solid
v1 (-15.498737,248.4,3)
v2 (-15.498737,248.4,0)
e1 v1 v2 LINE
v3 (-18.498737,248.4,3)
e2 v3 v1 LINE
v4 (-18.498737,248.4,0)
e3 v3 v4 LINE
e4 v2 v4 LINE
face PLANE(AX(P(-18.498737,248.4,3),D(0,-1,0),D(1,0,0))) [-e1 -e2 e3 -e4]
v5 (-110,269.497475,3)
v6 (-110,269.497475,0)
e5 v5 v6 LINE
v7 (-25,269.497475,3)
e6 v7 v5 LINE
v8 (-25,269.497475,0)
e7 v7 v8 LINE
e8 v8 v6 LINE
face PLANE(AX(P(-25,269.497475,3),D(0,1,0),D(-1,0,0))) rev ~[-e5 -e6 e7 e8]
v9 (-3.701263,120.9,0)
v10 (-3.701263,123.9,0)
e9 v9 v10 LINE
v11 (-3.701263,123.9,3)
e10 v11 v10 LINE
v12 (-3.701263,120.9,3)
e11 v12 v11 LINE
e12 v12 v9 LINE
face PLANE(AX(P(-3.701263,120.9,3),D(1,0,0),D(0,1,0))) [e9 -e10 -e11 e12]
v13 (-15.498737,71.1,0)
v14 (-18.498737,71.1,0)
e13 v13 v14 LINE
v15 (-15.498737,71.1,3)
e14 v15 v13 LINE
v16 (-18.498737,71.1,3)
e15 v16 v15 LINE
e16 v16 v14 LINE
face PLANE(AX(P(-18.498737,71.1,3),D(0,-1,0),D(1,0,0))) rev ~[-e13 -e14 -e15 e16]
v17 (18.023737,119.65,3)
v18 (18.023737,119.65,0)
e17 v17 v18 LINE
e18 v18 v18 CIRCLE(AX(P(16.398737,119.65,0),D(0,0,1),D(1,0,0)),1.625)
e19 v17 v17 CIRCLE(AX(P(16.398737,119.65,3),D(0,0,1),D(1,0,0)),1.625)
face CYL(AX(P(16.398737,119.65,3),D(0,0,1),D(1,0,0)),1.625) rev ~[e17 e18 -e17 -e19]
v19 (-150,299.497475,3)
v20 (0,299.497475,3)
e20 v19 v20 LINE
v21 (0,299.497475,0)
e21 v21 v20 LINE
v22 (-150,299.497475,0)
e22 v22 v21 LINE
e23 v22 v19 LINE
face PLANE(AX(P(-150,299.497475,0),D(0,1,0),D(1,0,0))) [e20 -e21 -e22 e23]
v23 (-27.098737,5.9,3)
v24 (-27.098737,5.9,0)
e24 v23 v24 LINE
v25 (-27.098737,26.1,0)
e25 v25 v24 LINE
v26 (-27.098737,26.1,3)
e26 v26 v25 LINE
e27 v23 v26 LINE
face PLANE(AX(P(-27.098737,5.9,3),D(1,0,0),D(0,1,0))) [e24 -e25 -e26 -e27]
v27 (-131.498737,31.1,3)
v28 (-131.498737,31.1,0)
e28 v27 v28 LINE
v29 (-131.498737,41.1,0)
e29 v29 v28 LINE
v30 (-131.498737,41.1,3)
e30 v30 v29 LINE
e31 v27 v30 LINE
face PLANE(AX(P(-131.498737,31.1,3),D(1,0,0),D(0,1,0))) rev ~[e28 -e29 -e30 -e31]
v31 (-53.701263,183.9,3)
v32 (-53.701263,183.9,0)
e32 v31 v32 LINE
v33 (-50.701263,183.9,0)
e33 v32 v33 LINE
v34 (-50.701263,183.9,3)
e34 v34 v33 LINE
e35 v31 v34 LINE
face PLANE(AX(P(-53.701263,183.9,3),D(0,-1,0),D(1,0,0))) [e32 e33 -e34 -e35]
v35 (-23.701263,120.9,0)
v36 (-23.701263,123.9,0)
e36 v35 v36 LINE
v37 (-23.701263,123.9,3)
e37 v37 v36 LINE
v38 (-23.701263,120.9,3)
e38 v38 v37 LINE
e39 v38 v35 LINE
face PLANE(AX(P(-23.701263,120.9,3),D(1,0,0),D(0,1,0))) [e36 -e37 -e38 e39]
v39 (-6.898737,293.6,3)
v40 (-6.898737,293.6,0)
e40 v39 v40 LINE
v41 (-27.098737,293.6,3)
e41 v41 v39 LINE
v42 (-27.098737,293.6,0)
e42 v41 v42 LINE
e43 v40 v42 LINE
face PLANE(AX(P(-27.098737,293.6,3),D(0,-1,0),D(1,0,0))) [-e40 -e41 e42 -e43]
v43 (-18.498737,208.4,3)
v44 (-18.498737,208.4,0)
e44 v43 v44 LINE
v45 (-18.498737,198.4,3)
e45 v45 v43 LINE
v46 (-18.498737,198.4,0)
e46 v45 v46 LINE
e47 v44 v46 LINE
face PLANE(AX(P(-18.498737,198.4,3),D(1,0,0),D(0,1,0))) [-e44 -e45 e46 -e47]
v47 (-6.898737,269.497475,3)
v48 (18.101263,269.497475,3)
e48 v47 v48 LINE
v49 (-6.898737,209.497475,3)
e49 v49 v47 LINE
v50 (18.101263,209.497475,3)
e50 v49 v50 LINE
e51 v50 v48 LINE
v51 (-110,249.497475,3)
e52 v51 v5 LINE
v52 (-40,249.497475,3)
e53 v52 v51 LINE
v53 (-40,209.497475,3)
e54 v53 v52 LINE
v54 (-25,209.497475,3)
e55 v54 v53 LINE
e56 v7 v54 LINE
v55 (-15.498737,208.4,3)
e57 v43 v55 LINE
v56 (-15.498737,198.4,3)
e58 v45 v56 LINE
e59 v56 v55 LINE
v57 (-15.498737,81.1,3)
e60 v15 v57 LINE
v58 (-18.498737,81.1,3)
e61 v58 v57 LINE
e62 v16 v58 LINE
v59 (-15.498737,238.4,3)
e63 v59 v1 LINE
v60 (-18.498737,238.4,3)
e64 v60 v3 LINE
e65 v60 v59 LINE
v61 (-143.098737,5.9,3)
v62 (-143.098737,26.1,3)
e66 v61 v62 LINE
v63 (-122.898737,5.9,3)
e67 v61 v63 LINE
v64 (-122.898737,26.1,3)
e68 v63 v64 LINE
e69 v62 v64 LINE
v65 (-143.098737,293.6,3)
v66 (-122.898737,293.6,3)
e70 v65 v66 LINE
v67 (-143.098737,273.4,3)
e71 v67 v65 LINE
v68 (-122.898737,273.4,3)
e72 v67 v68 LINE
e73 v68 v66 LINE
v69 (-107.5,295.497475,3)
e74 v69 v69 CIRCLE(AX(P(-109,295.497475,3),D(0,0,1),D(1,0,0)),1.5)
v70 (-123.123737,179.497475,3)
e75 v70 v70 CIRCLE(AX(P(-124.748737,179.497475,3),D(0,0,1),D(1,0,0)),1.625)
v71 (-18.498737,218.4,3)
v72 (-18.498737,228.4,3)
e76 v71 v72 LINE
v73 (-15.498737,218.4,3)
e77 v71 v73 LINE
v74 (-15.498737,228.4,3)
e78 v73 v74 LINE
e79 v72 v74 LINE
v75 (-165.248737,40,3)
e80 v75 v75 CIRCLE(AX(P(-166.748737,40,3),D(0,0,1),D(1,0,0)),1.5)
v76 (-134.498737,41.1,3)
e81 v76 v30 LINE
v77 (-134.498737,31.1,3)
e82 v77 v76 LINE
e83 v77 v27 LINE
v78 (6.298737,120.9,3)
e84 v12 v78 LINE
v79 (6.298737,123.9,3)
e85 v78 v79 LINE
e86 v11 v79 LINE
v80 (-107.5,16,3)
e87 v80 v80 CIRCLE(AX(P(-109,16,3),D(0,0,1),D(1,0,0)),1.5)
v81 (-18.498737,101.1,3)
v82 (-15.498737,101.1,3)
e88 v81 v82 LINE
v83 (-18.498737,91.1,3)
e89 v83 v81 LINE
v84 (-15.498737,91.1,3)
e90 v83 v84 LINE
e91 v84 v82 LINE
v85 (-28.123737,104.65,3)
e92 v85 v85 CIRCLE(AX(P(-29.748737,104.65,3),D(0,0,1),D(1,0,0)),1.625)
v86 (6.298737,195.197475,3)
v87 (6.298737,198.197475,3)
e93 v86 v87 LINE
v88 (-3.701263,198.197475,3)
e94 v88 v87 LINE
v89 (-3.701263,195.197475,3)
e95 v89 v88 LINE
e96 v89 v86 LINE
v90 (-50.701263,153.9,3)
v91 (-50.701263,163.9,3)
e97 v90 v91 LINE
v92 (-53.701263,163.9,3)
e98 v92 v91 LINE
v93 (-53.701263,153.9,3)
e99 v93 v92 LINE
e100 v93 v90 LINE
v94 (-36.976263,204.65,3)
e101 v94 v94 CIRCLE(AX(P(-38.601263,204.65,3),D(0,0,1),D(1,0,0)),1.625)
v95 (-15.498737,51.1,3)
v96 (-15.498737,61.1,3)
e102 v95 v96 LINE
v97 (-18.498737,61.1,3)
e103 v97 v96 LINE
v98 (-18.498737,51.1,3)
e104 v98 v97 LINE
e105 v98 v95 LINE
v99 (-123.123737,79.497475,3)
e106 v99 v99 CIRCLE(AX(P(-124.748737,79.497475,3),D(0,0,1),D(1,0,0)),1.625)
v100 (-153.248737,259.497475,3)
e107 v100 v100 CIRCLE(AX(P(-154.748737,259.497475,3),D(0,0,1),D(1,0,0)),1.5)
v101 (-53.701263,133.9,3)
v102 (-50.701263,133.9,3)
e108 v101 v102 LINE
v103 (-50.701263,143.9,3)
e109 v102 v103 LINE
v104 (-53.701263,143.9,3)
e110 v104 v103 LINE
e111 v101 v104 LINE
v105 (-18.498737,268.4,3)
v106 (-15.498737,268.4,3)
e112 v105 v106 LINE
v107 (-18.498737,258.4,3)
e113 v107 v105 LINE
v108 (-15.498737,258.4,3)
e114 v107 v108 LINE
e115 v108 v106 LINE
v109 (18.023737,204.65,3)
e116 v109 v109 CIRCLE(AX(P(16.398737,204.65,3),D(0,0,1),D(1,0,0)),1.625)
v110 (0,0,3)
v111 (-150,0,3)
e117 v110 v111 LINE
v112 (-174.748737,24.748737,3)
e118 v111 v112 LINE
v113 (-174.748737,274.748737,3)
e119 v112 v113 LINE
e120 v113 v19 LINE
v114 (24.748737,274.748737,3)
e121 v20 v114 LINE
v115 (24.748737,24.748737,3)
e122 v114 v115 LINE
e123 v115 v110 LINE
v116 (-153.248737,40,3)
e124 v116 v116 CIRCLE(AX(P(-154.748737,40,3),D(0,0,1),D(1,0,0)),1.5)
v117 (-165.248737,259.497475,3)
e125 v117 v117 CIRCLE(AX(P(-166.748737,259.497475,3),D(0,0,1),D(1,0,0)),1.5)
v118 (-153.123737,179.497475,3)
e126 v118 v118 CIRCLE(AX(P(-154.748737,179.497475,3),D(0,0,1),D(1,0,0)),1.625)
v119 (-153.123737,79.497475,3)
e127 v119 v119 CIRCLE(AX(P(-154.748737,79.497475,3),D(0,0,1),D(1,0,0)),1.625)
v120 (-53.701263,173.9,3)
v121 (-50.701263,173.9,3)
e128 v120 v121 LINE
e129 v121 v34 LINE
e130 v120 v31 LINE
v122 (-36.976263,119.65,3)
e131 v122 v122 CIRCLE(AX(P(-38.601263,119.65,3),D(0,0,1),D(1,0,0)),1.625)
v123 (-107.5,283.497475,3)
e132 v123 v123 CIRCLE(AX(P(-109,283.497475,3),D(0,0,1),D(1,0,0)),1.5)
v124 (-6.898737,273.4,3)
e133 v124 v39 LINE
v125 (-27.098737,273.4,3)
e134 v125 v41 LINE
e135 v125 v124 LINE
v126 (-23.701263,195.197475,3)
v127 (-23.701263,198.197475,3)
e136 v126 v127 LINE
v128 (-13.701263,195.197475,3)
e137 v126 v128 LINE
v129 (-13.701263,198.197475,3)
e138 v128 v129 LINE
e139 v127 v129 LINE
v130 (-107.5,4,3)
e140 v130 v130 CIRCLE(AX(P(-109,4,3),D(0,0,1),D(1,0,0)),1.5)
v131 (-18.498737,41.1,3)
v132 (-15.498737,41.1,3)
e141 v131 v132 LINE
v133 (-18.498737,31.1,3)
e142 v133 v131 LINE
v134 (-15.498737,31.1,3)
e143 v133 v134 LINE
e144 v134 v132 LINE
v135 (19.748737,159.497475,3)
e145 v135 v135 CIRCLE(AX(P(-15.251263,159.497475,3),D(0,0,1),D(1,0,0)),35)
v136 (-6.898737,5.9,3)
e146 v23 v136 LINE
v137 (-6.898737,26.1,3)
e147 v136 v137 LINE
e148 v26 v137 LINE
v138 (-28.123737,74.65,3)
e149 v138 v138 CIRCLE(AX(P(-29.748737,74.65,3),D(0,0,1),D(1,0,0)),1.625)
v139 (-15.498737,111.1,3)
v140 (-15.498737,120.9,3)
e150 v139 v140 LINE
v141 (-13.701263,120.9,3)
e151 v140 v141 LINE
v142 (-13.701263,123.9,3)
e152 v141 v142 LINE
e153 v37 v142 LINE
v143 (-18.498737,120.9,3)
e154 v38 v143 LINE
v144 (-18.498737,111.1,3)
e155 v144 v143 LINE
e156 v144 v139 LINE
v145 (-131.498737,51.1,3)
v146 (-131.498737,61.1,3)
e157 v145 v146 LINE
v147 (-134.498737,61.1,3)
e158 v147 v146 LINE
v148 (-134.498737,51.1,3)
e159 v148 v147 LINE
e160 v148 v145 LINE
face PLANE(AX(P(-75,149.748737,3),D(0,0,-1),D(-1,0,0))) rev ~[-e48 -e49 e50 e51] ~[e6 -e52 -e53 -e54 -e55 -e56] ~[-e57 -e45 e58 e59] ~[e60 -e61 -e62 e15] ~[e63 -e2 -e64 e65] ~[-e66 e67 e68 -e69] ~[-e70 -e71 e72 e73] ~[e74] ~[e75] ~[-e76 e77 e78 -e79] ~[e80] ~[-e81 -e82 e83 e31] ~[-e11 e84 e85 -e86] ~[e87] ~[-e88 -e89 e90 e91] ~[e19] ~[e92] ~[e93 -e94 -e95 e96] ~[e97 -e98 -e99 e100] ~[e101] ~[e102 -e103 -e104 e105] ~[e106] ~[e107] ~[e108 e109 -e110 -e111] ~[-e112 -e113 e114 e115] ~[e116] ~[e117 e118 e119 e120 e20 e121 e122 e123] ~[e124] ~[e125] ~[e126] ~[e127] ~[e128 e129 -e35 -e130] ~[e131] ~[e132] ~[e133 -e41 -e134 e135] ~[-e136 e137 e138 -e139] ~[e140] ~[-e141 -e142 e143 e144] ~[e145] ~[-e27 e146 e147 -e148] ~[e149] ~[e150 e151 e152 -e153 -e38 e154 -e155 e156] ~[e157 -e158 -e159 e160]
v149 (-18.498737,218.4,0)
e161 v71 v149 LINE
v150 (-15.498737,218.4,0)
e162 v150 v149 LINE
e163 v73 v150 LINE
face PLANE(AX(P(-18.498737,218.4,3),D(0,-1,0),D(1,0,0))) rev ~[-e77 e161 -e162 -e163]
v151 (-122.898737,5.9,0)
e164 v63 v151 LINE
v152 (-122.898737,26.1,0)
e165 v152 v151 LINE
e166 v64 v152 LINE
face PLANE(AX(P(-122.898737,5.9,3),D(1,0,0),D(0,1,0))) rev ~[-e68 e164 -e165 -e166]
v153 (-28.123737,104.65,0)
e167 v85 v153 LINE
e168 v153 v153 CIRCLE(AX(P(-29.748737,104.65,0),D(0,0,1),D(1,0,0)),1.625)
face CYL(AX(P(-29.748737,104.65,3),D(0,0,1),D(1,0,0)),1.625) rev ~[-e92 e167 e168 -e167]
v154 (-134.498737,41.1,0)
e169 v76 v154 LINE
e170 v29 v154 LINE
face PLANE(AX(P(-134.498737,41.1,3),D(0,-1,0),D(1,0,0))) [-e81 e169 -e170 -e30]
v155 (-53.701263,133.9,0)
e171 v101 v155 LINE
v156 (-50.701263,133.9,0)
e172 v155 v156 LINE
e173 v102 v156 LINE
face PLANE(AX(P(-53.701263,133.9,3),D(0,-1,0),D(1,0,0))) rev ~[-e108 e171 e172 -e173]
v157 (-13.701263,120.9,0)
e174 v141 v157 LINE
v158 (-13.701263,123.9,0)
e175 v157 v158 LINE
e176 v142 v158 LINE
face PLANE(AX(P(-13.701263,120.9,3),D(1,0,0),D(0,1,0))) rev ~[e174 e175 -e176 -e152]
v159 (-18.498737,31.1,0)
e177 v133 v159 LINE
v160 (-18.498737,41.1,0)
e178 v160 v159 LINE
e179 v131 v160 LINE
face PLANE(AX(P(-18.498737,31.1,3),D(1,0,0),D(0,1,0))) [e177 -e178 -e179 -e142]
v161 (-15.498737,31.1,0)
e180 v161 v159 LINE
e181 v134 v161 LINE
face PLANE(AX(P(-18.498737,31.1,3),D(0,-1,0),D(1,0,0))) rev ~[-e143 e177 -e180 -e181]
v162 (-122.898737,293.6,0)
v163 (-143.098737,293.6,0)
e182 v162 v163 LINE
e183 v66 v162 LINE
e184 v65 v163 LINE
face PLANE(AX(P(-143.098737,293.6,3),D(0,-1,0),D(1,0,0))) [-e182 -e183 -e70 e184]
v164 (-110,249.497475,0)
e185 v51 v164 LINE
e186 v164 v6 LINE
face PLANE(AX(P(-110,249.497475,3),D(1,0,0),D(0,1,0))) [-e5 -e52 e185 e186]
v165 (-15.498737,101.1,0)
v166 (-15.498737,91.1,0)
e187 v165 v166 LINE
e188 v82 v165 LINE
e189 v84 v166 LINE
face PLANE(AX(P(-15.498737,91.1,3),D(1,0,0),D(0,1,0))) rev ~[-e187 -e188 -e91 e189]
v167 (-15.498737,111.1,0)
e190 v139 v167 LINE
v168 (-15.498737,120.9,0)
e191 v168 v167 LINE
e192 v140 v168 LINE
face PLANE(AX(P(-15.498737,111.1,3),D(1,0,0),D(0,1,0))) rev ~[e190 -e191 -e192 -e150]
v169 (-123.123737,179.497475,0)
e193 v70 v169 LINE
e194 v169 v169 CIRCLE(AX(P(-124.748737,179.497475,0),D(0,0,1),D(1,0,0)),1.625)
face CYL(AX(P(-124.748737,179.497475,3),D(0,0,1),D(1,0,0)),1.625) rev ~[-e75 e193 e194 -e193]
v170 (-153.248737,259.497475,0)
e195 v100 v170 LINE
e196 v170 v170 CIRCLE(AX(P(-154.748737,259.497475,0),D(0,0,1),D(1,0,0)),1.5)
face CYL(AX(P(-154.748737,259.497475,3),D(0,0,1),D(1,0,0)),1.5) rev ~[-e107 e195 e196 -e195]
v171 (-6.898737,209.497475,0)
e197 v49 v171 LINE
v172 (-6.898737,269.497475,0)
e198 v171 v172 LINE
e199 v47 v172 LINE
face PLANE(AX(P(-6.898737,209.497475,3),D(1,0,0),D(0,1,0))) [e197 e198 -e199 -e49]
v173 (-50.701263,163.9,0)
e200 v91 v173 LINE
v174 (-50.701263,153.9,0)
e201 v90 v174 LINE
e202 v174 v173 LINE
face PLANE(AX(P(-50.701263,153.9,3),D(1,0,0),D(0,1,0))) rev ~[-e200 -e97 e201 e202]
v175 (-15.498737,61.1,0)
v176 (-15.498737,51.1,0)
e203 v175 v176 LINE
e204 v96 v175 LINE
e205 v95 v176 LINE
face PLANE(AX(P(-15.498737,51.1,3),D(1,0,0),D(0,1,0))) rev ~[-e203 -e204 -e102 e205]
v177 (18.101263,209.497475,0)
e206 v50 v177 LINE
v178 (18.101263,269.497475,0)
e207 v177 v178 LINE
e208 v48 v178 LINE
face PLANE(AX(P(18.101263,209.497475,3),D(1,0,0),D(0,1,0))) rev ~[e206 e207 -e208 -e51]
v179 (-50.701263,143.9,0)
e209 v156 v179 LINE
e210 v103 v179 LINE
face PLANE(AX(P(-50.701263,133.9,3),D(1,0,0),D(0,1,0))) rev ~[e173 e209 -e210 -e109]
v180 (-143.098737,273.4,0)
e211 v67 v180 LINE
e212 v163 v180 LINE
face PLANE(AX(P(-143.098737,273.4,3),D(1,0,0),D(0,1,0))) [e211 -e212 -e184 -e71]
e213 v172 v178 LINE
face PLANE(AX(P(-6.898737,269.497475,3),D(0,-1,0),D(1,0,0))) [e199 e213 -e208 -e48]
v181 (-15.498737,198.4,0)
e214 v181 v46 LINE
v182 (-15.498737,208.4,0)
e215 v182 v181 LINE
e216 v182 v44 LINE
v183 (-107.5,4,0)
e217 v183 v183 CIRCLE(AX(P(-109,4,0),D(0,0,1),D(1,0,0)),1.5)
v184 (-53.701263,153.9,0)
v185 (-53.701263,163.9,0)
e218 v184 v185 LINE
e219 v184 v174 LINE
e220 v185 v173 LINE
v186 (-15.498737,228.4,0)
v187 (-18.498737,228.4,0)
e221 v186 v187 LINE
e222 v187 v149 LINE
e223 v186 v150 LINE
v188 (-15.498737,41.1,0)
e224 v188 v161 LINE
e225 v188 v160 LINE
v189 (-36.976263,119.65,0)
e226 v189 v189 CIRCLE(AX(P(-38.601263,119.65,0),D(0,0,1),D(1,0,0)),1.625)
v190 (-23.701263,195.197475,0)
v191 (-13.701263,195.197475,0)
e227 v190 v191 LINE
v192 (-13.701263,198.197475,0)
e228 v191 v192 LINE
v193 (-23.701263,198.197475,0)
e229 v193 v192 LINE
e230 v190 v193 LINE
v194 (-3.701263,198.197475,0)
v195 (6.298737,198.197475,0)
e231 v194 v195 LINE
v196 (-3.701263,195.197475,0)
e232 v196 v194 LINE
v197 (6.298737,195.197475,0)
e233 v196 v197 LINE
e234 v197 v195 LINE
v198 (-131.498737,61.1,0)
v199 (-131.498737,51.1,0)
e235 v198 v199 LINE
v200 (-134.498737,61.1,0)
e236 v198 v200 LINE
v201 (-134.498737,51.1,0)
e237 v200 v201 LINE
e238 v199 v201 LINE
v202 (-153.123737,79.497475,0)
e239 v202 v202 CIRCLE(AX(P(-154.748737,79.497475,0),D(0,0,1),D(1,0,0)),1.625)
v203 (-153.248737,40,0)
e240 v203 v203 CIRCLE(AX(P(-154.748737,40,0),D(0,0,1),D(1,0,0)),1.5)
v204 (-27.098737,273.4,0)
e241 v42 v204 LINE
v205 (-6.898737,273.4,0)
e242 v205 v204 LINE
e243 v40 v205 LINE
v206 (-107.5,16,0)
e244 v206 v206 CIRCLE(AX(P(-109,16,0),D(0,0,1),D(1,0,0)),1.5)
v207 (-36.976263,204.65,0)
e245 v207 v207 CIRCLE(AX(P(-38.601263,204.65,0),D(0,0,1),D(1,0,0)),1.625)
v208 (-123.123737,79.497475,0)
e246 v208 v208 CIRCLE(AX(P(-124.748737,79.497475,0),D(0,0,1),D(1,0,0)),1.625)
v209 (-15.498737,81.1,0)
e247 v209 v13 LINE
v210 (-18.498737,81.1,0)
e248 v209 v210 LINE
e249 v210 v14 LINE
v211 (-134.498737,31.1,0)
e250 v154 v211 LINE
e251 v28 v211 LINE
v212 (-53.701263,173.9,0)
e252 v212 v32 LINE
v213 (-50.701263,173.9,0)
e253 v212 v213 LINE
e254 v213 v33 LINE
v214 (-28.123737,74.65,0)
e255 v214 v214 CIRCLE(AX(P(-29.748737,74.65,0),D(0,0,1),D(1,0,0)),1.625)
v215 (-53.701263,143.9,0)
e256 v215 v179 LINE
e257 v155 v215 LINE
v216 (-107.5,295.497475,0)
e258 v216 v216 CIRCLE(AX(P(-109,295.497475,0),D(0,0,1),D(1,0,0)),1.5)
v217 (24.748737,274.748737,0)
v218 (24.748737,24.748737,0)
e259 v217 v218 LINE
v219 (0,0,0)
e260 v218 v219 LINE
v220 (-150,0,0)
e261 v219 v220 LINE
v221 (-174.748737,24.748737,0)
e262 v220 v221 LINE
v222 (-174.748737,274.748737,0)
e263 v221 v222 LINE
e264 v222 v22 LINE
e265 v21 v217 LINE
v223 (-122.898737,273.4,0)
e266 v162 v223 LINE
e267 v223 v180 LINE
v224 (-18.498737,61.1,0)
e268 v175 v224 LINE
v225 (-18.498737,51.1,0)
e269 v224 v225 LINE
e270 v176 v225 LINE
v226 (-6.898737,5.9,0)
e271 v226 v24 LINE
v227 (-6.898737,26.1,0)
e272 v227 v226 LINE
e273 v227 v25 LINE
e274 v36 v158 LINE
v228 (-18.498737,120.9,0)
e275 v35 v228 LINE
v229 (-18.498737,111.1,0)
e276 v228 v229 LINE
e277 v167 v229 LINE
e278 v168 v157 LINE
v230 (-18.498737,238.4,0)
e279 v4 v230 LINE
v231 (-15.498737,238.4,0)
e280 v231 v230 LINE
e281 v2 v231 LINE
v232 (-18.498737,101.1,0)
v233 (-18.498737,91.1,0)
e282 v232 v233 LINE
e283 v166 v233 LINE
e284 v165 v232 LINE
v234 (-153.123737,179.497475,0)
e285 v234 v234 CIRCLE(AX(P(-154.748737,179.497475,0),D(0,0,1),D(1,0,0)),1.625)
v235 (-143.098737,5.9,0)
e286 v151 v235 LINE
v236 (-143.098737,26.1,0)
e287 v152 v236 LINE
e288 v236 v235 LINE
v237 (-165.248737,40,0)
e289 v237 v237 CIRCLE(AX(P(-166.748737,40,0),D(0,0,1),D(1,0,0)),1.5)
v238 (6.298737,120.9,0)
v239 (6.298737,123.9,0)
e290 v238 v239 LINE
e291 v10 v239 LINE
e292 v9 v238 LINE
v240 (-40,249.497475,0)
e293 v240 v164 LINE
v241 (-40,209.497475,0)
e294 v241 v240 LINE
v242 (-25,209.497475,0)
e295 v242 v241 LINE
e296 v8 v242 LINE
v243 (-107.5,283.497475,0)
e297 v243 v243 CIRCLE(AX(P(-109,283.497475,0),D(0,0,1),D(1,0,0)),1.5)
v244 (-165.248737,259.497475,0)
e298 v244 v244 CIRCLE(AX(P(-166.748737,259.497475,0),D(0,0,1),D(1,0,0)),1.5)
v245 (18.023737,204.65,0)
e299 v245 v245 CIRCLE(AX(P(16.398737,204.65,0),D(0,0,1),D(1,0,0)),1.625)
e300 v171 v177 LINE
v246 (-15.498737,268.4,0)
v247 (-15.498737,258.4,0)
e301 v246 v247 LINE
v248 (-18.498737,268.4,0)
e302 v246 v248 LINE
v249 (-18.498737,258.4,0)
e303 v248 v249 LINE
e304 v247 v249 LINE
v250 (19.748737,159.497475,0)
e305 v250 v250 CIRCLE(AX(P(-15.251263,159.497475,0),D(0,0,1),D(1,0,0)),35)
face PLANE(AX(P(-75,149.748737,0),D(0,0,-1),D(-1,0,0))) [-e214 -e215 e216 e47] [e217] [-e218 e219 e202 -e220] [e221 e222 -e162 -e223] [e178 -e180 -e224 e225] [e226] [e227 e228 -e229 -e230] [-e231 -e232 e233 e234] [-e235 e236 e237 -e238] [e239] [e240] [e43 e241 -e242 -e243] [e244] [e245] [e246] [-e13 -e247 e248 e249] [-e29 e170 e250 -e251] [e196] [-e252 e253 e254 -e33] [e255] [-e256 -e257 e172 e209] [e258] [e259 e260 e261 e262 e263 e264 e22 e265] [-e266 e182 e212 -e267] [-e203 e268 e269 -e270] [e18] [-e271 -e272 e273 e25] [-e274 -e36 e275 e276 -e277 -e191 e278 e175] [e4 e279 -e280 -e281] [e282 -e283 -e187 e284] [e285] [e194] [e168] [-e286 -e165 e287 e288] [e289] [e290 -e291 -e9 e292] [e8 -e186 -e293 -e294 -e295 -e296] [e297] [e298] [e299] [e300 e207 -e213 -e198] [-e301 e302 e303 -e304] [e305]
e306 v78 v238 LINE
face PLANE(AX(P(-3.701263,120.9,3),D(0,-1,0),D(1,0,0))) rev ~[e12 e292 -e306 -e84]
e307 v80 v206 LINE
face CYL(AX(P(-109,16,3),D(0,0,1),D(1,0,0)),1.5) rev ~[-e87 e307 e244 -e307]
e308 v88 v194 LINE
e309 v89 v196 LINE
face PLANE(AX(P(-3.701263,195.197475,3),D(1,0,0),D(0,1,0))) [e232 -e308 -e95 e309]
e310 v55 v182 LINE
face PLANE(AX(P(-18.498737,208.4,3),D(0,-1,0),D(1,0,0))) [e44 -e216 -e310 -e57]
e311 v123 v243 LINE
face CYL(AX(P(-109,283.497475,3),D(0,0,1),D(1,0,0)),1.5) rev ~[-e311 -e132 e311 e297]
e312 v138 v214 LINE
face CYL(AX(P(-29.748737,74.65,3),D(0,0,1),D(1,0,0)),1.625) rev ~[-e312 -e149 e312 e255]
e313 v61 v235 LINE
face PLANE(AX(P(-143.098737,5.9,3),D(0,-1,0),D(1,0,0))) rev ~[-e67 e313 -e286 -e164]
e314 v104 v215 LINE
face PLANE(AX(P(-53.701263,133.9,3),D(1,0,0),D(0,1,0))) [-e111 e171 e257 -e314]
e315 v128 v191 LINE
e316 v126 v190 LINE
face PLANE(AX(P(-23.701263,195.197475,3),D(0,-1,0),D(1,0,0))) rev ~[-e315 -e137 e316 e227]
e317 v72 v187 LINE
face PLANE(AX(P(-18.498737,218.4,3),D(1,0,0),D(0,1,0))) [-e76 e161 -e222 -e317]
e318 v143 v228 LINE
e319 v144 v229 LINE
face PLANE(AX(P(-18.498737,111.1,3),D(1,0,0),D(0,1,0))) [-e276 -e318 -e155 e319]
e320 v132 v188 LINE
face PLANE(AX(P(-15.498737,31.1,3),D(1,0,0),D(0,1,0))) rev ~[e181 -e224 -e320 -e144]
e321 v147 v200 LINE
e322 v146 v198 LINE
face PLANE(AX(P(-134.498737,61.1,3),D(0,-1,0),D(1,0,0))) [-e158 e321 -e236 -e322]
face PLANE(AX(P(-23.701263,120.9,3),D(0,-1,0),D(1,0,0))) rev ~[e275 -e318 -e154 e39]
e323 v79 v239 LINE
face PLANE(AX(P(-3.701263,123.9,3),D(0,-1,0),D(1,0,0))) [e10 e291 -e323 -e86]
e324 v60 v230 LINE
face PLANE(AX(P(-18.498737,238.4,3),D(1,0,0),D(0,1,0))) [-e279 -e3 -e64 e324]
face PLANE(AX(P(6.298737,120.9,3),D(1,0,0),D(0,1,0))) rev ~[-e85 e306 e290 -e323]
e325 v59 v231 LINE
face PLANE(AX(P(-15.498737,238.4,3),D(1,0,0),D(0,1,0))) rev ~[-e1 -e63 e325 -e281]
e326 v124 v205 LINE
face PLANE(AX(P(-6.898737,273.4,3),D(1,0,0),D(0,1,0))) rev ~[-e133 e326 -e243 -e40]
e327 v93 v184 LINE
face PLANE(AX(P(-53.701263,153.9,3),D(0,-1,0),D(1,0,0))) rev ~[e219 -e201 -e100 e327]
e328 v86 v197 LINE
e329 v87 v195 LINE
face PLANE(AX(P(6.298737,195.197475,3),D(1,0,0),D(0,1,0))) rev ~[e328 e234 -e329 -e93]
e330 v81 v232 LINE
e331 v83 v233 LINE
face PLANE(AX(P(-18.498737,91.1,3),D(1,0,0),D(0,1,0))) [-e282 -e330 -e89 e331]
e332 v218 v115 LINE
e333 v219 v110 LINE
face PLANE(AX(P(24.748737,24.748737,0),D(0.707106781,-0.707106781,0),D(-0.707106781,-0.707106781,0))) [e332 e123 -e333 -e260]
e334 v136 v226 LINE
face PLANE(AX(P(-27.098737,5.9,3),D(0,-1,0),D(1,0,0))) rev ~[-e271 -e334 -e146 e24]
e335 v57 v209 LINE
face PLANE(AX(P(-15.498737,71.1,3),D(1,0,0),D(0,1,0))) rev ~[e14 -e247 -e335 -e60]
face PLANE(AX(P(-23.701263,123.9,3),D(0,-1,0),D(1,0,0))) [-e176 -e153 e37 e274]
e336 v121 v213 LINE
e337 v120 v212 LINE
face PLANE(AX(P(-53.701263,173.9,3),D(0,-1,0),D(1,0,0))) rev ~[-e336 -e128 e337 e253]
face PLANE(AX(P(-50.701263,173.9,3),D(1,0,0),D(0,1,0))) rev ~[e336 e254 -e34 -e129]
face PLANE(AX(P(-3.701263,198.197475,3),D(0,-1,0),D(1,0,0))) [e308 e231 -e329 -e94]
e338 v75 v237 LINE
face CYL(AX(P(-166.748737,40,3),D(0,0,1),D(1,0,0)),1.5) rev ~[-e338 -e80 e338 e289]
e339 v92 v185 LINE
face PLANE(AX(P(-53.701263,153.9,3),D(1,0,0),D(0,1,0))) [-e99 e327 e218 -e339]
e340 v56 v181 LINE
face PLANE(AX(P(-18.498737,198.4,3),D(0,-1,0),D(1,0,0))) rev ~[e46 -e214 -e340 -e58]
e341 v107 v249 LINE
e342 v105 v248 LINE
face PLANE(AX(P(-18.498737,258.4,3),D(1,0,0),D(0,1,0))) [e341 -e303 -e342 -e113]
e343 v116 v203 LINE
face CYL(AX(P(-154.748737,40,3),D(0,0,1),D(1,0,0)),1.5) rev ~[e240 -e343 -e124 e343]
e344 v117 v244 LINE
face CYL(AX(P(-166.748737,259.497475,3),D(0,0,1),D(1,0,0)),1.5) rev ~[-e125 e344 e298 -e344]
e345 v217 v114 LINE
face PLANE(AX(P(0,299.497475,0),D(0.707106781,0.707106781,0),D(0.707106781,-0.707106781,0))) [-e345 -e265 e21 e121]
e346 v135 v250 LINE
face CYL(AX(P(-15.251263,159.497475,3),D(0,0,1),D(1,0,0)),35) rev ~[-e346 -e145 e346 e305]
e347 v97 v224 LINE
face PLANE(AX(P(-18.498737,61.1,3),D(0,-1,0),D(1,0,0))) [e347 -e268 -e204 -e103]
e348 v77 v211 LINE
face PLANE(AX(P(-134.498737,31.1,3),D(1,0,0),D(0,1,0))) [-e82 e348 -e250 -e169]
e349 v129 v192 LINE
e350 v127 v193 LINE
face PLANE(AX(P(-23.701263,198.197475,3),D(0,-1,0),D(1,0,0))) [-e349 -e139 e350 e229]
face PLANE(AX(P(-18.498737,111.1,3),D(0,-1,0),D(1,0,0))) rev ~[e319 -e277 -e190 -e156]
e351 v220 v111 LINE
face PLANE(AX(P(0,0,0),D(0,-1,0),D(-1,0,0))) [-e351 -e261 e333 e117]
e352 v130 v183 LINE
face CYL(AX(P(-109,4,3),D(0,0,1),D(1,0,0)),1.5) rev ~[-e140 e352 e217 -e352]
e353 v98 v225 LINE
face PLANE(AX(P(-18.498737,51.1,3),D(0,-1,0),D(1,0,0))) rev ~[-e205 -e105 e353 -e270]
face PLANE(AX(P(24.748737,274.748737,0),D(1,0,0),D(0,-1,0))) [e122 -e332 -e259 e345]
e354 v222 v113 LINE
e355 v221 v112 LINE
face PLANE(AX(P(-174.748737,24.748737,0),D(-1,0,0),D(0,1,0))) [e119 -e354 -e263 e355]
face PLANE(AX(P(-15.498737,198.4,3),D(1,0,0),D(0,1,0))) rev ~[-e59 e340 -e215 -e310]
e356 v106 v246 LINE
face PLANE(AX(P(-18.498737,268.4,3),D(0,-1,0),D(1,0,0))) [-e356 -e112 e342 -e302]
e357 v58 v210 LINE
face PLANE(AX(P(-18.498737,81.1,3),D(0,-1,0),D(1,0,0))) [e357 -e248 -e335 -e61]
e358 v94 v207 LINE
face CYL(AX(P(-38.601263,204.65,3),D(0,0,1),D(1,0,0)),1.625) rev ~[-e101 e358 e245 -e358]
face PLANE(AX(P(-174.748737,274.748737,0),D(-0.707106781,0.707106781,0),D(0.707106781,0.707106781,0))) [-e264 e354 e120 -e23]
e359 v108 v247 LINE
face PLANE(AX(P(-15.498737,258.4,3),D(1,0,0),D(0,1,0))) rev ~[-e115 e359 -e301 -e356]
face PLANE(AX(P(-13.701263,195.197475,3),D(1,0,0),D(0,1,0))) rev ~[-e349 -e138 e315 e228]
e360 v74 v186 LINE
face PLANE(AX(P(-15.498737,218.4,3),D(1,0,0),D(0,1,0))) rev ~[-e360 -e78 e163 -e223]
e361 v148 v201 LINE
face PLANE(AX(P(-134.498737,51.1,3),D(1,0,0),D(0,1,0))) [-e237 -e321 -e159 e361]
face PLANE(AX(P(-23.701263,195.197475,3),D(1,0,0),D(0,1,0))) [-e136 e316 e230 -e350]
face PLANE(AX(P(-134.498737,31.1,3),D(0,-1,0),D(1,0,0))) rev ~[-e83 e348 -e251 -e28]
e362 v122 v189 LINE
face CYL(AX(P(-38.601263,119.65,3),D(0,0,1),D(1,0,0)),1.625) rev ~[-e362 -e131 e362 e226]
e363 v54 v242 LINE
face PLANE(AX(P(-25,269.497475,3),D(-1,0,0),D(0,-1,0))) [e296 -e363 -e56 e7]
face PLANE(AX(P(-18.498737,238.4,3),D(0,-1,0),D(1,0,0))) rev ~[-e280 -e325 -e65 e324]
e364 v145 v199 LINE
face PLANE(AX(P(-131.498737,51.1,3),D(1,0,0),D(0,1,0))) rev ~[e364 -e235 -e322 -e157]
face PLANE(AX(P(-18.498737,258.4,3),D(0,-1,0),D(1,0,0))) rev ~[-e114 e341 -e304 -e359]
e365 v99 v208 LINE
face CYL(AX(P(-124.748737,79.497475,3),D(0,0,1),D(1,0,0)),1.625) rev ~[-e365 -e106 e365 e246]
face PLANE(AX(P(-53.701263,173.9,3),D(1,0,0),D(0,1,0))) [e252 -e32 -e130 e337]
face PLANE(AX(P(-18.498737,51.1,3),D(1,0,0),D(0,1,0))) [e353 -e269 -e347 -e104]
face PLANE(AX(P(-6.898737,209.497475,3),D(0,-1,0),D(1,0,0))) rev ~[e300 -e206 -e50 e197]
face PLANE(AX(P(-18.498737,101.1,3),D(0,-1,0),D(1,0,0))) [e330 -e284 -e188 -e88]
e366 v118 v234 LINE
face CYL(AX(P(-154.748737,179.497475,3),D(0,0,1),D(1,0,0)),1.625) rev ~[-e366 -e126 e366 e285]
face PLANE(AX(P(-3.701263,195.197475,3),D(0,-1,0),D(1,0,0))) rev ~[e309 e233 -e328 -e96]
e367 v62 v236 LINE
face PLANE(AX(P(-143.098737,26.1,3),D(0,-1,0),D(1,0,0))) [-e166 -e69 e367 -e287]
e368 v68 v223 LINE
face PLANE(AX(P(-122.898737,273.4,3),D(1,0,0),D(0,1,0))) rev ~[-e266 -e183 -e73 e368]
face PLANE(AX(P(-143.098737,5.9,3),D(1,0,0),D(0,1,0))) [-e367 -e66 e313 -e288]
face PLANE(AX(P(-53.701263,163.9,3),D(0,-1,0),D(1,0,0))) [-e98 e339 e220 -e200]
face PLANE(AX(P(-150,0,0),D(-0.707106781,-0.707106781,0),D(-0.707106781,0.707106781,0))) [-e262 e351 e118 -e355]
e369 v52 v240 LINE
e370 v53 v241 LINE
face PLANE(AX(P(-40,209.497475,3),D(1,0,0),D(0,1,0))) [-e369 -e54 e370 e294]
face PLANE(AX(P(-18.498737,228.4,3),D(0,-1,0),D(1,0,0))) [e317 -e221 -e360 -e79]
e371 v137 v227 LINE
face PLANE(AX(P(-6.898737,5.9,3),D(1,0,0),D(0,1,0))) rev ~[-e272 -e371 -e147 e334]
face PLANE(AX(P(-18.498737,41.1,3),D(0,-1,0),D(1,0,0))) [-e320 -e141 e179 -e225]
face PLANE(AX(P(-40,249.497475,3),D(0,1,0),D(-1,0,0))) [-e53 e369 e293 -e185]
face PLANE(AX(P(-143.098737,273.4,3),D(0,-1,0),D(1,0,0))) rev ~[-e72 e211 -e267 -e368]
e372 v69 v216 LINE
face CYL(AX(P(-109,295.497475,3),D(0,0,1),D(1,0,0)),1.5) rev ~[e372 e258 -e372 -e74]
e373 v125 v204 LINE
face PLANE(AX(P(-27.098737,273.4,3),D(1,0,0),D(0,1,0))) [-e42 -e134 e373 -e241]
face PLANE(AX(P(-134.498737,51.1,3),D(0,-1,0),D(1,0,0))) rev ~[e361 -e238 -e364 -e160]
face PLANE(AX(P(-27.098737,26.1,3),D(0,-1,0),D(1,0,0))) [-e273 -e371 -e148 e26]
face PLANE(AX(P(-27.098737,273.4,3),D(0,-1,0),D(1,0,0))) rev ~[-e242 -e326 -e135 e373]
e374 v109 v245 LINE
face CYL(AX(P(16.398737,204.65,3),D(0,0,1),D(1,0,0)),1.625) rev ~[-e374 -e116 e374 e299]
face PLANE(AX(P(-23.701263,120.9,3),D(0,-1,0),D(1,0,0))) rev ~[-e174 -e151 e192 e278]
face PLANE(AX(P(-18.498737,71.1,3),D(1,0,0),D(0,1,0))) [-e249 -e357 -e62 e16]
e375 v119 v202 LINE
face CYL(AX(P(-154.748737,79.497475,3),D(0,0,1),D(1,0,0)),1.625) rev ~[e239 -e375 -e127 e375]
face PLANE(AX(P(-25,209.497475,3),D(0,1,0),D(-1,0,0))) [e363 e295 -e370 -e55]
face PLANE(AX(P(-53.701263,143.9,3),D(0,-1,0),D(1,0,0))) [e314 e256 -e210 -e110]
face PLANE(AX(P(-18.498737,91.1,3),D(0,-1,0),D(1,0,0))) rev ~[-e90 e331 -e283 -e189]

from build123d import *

# Parameters (mm, degrees)
BASE_DEPTH                      = 3
ESQUISSE3_W                     = 20.2
ESQUISSE3_H                     = 20.2
ENL_V_MAT_EXTRU_1_DEPTH         = 4
R_P_TITION_LIN_AIRE1_COUNT      = 2
R_P_TITION_LIN_AIRE1_PITCH      = 267.5
R_P_TITION_LIN_AIRE1_COUNT_DIR2 = 2
R_P_TITION_LIN_AIRE1_PITCH_DIR2 = 116
ESQUISSE4_R                     = 35
ENL_V_MAT_EXTRU_2_DEPTH         = 4
ESQUISSE5_R                     = 1.625
ENL_V_MAT_EXTRU_3_DEPTH         = 3
R_P_TITION_LIN_AIRE2_COUNT      = 2
R_P_TITION_LIN_AIRE2_PITCH      = 85
R_P_TITION_LIN_AIRE2_COUNT_DIR2 = 2
R_P_TITION_LIN_AIRE2_PITCH_DIR2 = 55
ENL_V_MAT_EXTRU_4_REACH         = 5
ESQUISSE6_W                     = 25
ESQUISSE6_H                     = 60
ESQUISSE8_R                     = 1.5
TROUS_DEGUISEMENT_DEPTH         = 5
SKETCH1_W                       = 3
SKETCH1_H                       = 10
CUT_EXTRUDE1_DEPTH              = 4
LPATTERN1_COUNT                 = 5
LPATTERN1_PITCH                 = 20
SKETCH2_W                       = 3
SKETCH2_H                       = 10
CUT_EXTRUDE2_DEPTH              = 4
LPATTERN2_COUNT                 = 2
LPATTERN2_PITCH                 = 20
SKETCH3_W                       = 3
SKETCH3_H                       = 10
CUT_EXTRUDE3_DEPTH              = 4
LPATTERN3_COUNT                 = 4
LPATTERN3_PITCH                 = 20
ESQUISSE9_R                     = 1.625
ENL_V_MAT_EXTRU_5_DEPTH         = 10
ESQUISSE10_W                    = 10
ESQUISSE10_H                    = 3
ENL_V_MAT_EXTRU_6_DEPTH         = 3
ESQUISSE11_W                    = 3
ESQUISSE11_H                    = 10
ENL_V_MAT_EXTRU_7_DEPTH         = 3


with BuildPart() as part:
    # Esquisse1 → Base (new body)
    with BuildSketch(Plane.XY):
        Polygon((24.748737342, 24.748737342), (0, 0), (-150, 0), (-174.748737342, 24.748737342), (-174.748737342, 274.748737342), (-150, 299.497474683), (0, 299.497474683), (24.748737342, 274.748737342), align=None)
    extrude(amount=BASE_DEPTH)

    # Esquisse3 → Enlèv. mat.-Extru.1 (cut, through all)
    with BuildSketch(Plane.XY.offset(3)):
        with Locations((-132.998737342, 16)):
            Rectangle(ESQUISSE3_W, ESQUISSE3_H)
    enl_v_mat_extru_1 = extrude(amount=-ENL_V_MAT_EXTRU_1_DEPTH, mode=Mode.SUBTRACT)

    # Répétition linéaire1: Enl_v. mat.-Extru.1 2 × 2
    with Locations(*[(j * R_P_TITION_LIN_AIRE1_PITCH_DIR2, i * R_P_TITION_LIN_AIRE1_PITCH, 0) for i in range(R_P_TITION_LIN_AIRE1_COUNT) for j in range(R_P_TITION_LIN_AIRE1_COUNT_DIR2) if (i, j) != (0, 0)]):
        add(enl_v_mat_extru_1, mode=Mode.SUBTRACT)

    # Esquisse4 → Enlèv. mat.-Extru.2 (cut, through all)
    with BuildSketch(Plane.XY.offset(3)):
        with Locations((-15.251262658, 159.497474683)):
            Circle(ESQUISSE4_R)
    extrude(amount=-ENL_V_MAT_EXTRU_2_DEPTH, mode=Mode.SUBTRACT)

    # Esquisse5 → Enlèv. mat.-Extru.3 (cut)
    with BuildSketch(Plane.XY.offset(3)):
        with Locations((16.398737342, 119.65)):
            Circle(ESQUISSE5_R)
    enl_v_mat_extru_3 = extrude(amount=-ENL_V_MAT_EXTRU_3_DEPTH, mode=Mode.SUBTRACT)

    # Répétition linéaire2: Enl_v. mat.-Extru.3 2 × 2
    with Locations(*[(-j * R_P_TITION_LIN_AIRE2_PITCH_DIR2, i * R_P_TITION_LIN_AIRE2_PITCH, 0) for i in range(R_P_TITION_LIN_AIRE2_COUNT) for j in range(R_P_TITION_LIN_AIRE2_COUNT_DIR2) if (i, j) != (0, 0)]):
        add(enl_v_mat_extru_3, mode=Mode.SUBTRACT)

    # Esquisse6 → Enlèv. mat.-Extru.4 (cut, up to next)
    with BuildSketch(Plane.XY.offset(3), mode=Mode.PRIVATE) as enl_v_mat_extru_4_sk1:
        Polygon((-110, 269.497474683), (-40, 269.497474683), (-25, 269.497474683), (-25, 209.497474683), (-40, 209.497474683), (-40, 249.497474683), (-110, 249.497474683), align=None)
    enl_v_mat_extru_4_tool1 = extrude(enl_v_mat_extru_4_sk1.sketch, amount=-ENL_V_MAT_EXTRU_4_REACH, mode=Mode.PRIVATE) & part.part
    add(enl_v_mat_extru_4_tool1.solids().sort_by_distance((-58.369565, 251.671388, 3))[0], mode=Mode.SUBTRACT)
    # Esquisse6 → Enlèv. mat.-Extru.4 (cut, up to next)
    with BuildSketch(Plane.XY.offset(3), mode=Mode.PRIVATE) as enl_v_mat_extru_4_sk2:
        with Locations((5.601262658, 239.497474683)):
            Rectangle(ESQUISSE6_W, ESQUISSE6_H)
    enl_v_mat_extru_4_tool2 = extrude(enl_v_mat_extru_4_sk2.sketch, amount=-ENL_V_MAT_EXTRU_4_REACH, mode=Mode.PRIVATE) & part.part
    add(enl_v_mat_extru_4_tool2.solids().sort_by_distance((5.601263, 239.497475, 3))[0], mode=Mode.SUBTRACT)

    # Esquisse8 → Trous deguisement (cut)
    with BuildSketch(Plane.XY.offset(3)):
        with Locations((-109, 295.497474683)):
            Circle(ESQUISSE8_R)
        with Locations((-109, 283.497474683)):
            Circle(ESQUISSE8_R)
        with Locations((-166.748737342, 259.497474683)):
            Circle(ESQUISSE8_R)
        with Locations((-154.748737342, 259.497474683)):
            Circle(ESQUISSE8_R)
        with Locations((-109, 16)):
            Circle(ESQUISSE8_R)
        with Locations((-109, 4)):
            Circle(ESQUISSE8_R)
        with Locations((-154.748737342, 40)):
            Circle(ESQUISSE8_R)
        with Locations((-166.748737342, 40)):
            Circle(ESQUISSE8_R)
    extrude(amount=-TROUS_DEGUISEMENT_DEPTH, mode=Mode.SUBTRACT)

    # Sketch1 → Cut-Extrude1 (cut, through all)
    with BuildSketch(Plane.XY.offset(3)):
        with Locations((-16.998737342, 36.1)):
            Rectangle(SKETCH1_W, SKETCH1_H)
    cut_extrude1 = extrude(amount=-CUT_EXTRUDE1_DEPTH, mode=Mode.SUBTRACT)

    # LPattern1: Cut-Extrude1 ×5
    with Locations(*[(0, i * LPATTERN1_PITCH, 0) for i in range(1, LPATTERN1_COUNT)]):
        add(cut_extrude1, mode=Mode.SUBTRACT)

    # Sketch2 → Cut-Extrude2 (cut, through all)
    with BuildSketch(Plane.XY.offset(3)):
        with Locations((-132.998737342, 36.1)):
            Rectangle(SKETCH2_W, SKETCH2_H)
    cut_extrude2 = extrude(amount=-CUT_EXTRUDE2_DEPTH, mode=Mode.SUBTRACT)

    # LPattern2: Cut-Extrude2 ×2
    with Locations(*[(0, i * LPATTERN2_PITCH, 0) for i in range(1, LPATTERN2_COUNT)]):
        add(cut_extrude2, mode=Mode.SUBTRACT)

    # Sketch3 → Cut-Extrude3 (cut, through all)
    with BuildSketch(Plane.XY.offset(3)):
        with Locations((-16.998737342, 263.4)):
            Rectangle(SKETCH3_W, SKETCH3_H)
    cut_extrude3 = extrude(amount=-CUT_EXTRUDE3_DEPTH, mode=Mode.SUBTRACT)

    # LPattern3: Cut-Extrude3 ×4
    with Locations(*[(0, -i * LPATTERN3_PITCH, 0) for i in range(1, LPATTERN3_COUNT)]):
        add(cut_extrude3, mode=Mode.SUBTRACT)

    # Esquisse9 → Enlèv. mat.-Extru.5 (cut)
    with BuildSketch(Plane.XY.offset(3)):
        with Locations((-154.748737342, 179.497474683)):
            Circle(ESQUISSE9_R)
        with Locations((-124.748737342, 179.497474683)):
            Circle(ESQUISSE9_R)
        with Locations((-154.748737342, 79.497474683)):
            Circle(ESQUISSE9_R)
        with Locations((-124.748737342, 79.497474683)):
            Circle(ESQUISSE9_R)
        with Locations((-29.748737342, 74.65)):
            Circle(ESQUISSE9_R)
        with Locations((-29.748737342, 104.65)):
            Circle(ESQUISSE9_R)
    extrude(amount=-ENL_V_MAT_EXTRU_5_DEPTH, mode=Mode.SUBTRACT)

    # Esquisse10 → Enlèv. mat.-Extru.6 (cut)
    with BuildSketch(Plane.XY.offset(3)):
        with Locations((1.298737342, 122.4)):
            Rectangle(ESQUISSE10_W, ESQUISSE10_H)
        with Locations((-18.701262658, 122.4)):
            Rectangle(ESQUISSE10_W, ESQUISSE10_H)
        with Locations((-18.701262658, 196.697474683)):
            Rectangle(ESQUISSE10_W, ESQUISSE10_H)
        with Locations((1.298737342, 196.697474683)):
            Rectangle(ESQUISSE10_W, ESQUISSE10_H)
    extrude(amount=-ENL_V_MAT_EXTRU_6_DEPTH, mode=Mode.SUBTRACT)

    # Esquisse11 → Enlèv. mat.-Extru.7 (cut)
    with BuildSketch(Plane.XY.offset(3)):
        with Locations((-52.201262658, 158.9)):
            Rectangle(ESQUISSE11_W, ESQUISSE11_H)
        with Locations((-52.201262658, 138.9)):
            Rectangle(ESQUISSE11_W, ESQUISSE11_H)
        with Locations((-52.201262658, 178.9)):
            Rectangle(ESQUISSE11_W, ESQUISSE11_H)
    extrude(amount=-ENL_V_MAT_EXTRU_7_DEPTH, mode=Mode.SUBTRACT)


solid = part.part
